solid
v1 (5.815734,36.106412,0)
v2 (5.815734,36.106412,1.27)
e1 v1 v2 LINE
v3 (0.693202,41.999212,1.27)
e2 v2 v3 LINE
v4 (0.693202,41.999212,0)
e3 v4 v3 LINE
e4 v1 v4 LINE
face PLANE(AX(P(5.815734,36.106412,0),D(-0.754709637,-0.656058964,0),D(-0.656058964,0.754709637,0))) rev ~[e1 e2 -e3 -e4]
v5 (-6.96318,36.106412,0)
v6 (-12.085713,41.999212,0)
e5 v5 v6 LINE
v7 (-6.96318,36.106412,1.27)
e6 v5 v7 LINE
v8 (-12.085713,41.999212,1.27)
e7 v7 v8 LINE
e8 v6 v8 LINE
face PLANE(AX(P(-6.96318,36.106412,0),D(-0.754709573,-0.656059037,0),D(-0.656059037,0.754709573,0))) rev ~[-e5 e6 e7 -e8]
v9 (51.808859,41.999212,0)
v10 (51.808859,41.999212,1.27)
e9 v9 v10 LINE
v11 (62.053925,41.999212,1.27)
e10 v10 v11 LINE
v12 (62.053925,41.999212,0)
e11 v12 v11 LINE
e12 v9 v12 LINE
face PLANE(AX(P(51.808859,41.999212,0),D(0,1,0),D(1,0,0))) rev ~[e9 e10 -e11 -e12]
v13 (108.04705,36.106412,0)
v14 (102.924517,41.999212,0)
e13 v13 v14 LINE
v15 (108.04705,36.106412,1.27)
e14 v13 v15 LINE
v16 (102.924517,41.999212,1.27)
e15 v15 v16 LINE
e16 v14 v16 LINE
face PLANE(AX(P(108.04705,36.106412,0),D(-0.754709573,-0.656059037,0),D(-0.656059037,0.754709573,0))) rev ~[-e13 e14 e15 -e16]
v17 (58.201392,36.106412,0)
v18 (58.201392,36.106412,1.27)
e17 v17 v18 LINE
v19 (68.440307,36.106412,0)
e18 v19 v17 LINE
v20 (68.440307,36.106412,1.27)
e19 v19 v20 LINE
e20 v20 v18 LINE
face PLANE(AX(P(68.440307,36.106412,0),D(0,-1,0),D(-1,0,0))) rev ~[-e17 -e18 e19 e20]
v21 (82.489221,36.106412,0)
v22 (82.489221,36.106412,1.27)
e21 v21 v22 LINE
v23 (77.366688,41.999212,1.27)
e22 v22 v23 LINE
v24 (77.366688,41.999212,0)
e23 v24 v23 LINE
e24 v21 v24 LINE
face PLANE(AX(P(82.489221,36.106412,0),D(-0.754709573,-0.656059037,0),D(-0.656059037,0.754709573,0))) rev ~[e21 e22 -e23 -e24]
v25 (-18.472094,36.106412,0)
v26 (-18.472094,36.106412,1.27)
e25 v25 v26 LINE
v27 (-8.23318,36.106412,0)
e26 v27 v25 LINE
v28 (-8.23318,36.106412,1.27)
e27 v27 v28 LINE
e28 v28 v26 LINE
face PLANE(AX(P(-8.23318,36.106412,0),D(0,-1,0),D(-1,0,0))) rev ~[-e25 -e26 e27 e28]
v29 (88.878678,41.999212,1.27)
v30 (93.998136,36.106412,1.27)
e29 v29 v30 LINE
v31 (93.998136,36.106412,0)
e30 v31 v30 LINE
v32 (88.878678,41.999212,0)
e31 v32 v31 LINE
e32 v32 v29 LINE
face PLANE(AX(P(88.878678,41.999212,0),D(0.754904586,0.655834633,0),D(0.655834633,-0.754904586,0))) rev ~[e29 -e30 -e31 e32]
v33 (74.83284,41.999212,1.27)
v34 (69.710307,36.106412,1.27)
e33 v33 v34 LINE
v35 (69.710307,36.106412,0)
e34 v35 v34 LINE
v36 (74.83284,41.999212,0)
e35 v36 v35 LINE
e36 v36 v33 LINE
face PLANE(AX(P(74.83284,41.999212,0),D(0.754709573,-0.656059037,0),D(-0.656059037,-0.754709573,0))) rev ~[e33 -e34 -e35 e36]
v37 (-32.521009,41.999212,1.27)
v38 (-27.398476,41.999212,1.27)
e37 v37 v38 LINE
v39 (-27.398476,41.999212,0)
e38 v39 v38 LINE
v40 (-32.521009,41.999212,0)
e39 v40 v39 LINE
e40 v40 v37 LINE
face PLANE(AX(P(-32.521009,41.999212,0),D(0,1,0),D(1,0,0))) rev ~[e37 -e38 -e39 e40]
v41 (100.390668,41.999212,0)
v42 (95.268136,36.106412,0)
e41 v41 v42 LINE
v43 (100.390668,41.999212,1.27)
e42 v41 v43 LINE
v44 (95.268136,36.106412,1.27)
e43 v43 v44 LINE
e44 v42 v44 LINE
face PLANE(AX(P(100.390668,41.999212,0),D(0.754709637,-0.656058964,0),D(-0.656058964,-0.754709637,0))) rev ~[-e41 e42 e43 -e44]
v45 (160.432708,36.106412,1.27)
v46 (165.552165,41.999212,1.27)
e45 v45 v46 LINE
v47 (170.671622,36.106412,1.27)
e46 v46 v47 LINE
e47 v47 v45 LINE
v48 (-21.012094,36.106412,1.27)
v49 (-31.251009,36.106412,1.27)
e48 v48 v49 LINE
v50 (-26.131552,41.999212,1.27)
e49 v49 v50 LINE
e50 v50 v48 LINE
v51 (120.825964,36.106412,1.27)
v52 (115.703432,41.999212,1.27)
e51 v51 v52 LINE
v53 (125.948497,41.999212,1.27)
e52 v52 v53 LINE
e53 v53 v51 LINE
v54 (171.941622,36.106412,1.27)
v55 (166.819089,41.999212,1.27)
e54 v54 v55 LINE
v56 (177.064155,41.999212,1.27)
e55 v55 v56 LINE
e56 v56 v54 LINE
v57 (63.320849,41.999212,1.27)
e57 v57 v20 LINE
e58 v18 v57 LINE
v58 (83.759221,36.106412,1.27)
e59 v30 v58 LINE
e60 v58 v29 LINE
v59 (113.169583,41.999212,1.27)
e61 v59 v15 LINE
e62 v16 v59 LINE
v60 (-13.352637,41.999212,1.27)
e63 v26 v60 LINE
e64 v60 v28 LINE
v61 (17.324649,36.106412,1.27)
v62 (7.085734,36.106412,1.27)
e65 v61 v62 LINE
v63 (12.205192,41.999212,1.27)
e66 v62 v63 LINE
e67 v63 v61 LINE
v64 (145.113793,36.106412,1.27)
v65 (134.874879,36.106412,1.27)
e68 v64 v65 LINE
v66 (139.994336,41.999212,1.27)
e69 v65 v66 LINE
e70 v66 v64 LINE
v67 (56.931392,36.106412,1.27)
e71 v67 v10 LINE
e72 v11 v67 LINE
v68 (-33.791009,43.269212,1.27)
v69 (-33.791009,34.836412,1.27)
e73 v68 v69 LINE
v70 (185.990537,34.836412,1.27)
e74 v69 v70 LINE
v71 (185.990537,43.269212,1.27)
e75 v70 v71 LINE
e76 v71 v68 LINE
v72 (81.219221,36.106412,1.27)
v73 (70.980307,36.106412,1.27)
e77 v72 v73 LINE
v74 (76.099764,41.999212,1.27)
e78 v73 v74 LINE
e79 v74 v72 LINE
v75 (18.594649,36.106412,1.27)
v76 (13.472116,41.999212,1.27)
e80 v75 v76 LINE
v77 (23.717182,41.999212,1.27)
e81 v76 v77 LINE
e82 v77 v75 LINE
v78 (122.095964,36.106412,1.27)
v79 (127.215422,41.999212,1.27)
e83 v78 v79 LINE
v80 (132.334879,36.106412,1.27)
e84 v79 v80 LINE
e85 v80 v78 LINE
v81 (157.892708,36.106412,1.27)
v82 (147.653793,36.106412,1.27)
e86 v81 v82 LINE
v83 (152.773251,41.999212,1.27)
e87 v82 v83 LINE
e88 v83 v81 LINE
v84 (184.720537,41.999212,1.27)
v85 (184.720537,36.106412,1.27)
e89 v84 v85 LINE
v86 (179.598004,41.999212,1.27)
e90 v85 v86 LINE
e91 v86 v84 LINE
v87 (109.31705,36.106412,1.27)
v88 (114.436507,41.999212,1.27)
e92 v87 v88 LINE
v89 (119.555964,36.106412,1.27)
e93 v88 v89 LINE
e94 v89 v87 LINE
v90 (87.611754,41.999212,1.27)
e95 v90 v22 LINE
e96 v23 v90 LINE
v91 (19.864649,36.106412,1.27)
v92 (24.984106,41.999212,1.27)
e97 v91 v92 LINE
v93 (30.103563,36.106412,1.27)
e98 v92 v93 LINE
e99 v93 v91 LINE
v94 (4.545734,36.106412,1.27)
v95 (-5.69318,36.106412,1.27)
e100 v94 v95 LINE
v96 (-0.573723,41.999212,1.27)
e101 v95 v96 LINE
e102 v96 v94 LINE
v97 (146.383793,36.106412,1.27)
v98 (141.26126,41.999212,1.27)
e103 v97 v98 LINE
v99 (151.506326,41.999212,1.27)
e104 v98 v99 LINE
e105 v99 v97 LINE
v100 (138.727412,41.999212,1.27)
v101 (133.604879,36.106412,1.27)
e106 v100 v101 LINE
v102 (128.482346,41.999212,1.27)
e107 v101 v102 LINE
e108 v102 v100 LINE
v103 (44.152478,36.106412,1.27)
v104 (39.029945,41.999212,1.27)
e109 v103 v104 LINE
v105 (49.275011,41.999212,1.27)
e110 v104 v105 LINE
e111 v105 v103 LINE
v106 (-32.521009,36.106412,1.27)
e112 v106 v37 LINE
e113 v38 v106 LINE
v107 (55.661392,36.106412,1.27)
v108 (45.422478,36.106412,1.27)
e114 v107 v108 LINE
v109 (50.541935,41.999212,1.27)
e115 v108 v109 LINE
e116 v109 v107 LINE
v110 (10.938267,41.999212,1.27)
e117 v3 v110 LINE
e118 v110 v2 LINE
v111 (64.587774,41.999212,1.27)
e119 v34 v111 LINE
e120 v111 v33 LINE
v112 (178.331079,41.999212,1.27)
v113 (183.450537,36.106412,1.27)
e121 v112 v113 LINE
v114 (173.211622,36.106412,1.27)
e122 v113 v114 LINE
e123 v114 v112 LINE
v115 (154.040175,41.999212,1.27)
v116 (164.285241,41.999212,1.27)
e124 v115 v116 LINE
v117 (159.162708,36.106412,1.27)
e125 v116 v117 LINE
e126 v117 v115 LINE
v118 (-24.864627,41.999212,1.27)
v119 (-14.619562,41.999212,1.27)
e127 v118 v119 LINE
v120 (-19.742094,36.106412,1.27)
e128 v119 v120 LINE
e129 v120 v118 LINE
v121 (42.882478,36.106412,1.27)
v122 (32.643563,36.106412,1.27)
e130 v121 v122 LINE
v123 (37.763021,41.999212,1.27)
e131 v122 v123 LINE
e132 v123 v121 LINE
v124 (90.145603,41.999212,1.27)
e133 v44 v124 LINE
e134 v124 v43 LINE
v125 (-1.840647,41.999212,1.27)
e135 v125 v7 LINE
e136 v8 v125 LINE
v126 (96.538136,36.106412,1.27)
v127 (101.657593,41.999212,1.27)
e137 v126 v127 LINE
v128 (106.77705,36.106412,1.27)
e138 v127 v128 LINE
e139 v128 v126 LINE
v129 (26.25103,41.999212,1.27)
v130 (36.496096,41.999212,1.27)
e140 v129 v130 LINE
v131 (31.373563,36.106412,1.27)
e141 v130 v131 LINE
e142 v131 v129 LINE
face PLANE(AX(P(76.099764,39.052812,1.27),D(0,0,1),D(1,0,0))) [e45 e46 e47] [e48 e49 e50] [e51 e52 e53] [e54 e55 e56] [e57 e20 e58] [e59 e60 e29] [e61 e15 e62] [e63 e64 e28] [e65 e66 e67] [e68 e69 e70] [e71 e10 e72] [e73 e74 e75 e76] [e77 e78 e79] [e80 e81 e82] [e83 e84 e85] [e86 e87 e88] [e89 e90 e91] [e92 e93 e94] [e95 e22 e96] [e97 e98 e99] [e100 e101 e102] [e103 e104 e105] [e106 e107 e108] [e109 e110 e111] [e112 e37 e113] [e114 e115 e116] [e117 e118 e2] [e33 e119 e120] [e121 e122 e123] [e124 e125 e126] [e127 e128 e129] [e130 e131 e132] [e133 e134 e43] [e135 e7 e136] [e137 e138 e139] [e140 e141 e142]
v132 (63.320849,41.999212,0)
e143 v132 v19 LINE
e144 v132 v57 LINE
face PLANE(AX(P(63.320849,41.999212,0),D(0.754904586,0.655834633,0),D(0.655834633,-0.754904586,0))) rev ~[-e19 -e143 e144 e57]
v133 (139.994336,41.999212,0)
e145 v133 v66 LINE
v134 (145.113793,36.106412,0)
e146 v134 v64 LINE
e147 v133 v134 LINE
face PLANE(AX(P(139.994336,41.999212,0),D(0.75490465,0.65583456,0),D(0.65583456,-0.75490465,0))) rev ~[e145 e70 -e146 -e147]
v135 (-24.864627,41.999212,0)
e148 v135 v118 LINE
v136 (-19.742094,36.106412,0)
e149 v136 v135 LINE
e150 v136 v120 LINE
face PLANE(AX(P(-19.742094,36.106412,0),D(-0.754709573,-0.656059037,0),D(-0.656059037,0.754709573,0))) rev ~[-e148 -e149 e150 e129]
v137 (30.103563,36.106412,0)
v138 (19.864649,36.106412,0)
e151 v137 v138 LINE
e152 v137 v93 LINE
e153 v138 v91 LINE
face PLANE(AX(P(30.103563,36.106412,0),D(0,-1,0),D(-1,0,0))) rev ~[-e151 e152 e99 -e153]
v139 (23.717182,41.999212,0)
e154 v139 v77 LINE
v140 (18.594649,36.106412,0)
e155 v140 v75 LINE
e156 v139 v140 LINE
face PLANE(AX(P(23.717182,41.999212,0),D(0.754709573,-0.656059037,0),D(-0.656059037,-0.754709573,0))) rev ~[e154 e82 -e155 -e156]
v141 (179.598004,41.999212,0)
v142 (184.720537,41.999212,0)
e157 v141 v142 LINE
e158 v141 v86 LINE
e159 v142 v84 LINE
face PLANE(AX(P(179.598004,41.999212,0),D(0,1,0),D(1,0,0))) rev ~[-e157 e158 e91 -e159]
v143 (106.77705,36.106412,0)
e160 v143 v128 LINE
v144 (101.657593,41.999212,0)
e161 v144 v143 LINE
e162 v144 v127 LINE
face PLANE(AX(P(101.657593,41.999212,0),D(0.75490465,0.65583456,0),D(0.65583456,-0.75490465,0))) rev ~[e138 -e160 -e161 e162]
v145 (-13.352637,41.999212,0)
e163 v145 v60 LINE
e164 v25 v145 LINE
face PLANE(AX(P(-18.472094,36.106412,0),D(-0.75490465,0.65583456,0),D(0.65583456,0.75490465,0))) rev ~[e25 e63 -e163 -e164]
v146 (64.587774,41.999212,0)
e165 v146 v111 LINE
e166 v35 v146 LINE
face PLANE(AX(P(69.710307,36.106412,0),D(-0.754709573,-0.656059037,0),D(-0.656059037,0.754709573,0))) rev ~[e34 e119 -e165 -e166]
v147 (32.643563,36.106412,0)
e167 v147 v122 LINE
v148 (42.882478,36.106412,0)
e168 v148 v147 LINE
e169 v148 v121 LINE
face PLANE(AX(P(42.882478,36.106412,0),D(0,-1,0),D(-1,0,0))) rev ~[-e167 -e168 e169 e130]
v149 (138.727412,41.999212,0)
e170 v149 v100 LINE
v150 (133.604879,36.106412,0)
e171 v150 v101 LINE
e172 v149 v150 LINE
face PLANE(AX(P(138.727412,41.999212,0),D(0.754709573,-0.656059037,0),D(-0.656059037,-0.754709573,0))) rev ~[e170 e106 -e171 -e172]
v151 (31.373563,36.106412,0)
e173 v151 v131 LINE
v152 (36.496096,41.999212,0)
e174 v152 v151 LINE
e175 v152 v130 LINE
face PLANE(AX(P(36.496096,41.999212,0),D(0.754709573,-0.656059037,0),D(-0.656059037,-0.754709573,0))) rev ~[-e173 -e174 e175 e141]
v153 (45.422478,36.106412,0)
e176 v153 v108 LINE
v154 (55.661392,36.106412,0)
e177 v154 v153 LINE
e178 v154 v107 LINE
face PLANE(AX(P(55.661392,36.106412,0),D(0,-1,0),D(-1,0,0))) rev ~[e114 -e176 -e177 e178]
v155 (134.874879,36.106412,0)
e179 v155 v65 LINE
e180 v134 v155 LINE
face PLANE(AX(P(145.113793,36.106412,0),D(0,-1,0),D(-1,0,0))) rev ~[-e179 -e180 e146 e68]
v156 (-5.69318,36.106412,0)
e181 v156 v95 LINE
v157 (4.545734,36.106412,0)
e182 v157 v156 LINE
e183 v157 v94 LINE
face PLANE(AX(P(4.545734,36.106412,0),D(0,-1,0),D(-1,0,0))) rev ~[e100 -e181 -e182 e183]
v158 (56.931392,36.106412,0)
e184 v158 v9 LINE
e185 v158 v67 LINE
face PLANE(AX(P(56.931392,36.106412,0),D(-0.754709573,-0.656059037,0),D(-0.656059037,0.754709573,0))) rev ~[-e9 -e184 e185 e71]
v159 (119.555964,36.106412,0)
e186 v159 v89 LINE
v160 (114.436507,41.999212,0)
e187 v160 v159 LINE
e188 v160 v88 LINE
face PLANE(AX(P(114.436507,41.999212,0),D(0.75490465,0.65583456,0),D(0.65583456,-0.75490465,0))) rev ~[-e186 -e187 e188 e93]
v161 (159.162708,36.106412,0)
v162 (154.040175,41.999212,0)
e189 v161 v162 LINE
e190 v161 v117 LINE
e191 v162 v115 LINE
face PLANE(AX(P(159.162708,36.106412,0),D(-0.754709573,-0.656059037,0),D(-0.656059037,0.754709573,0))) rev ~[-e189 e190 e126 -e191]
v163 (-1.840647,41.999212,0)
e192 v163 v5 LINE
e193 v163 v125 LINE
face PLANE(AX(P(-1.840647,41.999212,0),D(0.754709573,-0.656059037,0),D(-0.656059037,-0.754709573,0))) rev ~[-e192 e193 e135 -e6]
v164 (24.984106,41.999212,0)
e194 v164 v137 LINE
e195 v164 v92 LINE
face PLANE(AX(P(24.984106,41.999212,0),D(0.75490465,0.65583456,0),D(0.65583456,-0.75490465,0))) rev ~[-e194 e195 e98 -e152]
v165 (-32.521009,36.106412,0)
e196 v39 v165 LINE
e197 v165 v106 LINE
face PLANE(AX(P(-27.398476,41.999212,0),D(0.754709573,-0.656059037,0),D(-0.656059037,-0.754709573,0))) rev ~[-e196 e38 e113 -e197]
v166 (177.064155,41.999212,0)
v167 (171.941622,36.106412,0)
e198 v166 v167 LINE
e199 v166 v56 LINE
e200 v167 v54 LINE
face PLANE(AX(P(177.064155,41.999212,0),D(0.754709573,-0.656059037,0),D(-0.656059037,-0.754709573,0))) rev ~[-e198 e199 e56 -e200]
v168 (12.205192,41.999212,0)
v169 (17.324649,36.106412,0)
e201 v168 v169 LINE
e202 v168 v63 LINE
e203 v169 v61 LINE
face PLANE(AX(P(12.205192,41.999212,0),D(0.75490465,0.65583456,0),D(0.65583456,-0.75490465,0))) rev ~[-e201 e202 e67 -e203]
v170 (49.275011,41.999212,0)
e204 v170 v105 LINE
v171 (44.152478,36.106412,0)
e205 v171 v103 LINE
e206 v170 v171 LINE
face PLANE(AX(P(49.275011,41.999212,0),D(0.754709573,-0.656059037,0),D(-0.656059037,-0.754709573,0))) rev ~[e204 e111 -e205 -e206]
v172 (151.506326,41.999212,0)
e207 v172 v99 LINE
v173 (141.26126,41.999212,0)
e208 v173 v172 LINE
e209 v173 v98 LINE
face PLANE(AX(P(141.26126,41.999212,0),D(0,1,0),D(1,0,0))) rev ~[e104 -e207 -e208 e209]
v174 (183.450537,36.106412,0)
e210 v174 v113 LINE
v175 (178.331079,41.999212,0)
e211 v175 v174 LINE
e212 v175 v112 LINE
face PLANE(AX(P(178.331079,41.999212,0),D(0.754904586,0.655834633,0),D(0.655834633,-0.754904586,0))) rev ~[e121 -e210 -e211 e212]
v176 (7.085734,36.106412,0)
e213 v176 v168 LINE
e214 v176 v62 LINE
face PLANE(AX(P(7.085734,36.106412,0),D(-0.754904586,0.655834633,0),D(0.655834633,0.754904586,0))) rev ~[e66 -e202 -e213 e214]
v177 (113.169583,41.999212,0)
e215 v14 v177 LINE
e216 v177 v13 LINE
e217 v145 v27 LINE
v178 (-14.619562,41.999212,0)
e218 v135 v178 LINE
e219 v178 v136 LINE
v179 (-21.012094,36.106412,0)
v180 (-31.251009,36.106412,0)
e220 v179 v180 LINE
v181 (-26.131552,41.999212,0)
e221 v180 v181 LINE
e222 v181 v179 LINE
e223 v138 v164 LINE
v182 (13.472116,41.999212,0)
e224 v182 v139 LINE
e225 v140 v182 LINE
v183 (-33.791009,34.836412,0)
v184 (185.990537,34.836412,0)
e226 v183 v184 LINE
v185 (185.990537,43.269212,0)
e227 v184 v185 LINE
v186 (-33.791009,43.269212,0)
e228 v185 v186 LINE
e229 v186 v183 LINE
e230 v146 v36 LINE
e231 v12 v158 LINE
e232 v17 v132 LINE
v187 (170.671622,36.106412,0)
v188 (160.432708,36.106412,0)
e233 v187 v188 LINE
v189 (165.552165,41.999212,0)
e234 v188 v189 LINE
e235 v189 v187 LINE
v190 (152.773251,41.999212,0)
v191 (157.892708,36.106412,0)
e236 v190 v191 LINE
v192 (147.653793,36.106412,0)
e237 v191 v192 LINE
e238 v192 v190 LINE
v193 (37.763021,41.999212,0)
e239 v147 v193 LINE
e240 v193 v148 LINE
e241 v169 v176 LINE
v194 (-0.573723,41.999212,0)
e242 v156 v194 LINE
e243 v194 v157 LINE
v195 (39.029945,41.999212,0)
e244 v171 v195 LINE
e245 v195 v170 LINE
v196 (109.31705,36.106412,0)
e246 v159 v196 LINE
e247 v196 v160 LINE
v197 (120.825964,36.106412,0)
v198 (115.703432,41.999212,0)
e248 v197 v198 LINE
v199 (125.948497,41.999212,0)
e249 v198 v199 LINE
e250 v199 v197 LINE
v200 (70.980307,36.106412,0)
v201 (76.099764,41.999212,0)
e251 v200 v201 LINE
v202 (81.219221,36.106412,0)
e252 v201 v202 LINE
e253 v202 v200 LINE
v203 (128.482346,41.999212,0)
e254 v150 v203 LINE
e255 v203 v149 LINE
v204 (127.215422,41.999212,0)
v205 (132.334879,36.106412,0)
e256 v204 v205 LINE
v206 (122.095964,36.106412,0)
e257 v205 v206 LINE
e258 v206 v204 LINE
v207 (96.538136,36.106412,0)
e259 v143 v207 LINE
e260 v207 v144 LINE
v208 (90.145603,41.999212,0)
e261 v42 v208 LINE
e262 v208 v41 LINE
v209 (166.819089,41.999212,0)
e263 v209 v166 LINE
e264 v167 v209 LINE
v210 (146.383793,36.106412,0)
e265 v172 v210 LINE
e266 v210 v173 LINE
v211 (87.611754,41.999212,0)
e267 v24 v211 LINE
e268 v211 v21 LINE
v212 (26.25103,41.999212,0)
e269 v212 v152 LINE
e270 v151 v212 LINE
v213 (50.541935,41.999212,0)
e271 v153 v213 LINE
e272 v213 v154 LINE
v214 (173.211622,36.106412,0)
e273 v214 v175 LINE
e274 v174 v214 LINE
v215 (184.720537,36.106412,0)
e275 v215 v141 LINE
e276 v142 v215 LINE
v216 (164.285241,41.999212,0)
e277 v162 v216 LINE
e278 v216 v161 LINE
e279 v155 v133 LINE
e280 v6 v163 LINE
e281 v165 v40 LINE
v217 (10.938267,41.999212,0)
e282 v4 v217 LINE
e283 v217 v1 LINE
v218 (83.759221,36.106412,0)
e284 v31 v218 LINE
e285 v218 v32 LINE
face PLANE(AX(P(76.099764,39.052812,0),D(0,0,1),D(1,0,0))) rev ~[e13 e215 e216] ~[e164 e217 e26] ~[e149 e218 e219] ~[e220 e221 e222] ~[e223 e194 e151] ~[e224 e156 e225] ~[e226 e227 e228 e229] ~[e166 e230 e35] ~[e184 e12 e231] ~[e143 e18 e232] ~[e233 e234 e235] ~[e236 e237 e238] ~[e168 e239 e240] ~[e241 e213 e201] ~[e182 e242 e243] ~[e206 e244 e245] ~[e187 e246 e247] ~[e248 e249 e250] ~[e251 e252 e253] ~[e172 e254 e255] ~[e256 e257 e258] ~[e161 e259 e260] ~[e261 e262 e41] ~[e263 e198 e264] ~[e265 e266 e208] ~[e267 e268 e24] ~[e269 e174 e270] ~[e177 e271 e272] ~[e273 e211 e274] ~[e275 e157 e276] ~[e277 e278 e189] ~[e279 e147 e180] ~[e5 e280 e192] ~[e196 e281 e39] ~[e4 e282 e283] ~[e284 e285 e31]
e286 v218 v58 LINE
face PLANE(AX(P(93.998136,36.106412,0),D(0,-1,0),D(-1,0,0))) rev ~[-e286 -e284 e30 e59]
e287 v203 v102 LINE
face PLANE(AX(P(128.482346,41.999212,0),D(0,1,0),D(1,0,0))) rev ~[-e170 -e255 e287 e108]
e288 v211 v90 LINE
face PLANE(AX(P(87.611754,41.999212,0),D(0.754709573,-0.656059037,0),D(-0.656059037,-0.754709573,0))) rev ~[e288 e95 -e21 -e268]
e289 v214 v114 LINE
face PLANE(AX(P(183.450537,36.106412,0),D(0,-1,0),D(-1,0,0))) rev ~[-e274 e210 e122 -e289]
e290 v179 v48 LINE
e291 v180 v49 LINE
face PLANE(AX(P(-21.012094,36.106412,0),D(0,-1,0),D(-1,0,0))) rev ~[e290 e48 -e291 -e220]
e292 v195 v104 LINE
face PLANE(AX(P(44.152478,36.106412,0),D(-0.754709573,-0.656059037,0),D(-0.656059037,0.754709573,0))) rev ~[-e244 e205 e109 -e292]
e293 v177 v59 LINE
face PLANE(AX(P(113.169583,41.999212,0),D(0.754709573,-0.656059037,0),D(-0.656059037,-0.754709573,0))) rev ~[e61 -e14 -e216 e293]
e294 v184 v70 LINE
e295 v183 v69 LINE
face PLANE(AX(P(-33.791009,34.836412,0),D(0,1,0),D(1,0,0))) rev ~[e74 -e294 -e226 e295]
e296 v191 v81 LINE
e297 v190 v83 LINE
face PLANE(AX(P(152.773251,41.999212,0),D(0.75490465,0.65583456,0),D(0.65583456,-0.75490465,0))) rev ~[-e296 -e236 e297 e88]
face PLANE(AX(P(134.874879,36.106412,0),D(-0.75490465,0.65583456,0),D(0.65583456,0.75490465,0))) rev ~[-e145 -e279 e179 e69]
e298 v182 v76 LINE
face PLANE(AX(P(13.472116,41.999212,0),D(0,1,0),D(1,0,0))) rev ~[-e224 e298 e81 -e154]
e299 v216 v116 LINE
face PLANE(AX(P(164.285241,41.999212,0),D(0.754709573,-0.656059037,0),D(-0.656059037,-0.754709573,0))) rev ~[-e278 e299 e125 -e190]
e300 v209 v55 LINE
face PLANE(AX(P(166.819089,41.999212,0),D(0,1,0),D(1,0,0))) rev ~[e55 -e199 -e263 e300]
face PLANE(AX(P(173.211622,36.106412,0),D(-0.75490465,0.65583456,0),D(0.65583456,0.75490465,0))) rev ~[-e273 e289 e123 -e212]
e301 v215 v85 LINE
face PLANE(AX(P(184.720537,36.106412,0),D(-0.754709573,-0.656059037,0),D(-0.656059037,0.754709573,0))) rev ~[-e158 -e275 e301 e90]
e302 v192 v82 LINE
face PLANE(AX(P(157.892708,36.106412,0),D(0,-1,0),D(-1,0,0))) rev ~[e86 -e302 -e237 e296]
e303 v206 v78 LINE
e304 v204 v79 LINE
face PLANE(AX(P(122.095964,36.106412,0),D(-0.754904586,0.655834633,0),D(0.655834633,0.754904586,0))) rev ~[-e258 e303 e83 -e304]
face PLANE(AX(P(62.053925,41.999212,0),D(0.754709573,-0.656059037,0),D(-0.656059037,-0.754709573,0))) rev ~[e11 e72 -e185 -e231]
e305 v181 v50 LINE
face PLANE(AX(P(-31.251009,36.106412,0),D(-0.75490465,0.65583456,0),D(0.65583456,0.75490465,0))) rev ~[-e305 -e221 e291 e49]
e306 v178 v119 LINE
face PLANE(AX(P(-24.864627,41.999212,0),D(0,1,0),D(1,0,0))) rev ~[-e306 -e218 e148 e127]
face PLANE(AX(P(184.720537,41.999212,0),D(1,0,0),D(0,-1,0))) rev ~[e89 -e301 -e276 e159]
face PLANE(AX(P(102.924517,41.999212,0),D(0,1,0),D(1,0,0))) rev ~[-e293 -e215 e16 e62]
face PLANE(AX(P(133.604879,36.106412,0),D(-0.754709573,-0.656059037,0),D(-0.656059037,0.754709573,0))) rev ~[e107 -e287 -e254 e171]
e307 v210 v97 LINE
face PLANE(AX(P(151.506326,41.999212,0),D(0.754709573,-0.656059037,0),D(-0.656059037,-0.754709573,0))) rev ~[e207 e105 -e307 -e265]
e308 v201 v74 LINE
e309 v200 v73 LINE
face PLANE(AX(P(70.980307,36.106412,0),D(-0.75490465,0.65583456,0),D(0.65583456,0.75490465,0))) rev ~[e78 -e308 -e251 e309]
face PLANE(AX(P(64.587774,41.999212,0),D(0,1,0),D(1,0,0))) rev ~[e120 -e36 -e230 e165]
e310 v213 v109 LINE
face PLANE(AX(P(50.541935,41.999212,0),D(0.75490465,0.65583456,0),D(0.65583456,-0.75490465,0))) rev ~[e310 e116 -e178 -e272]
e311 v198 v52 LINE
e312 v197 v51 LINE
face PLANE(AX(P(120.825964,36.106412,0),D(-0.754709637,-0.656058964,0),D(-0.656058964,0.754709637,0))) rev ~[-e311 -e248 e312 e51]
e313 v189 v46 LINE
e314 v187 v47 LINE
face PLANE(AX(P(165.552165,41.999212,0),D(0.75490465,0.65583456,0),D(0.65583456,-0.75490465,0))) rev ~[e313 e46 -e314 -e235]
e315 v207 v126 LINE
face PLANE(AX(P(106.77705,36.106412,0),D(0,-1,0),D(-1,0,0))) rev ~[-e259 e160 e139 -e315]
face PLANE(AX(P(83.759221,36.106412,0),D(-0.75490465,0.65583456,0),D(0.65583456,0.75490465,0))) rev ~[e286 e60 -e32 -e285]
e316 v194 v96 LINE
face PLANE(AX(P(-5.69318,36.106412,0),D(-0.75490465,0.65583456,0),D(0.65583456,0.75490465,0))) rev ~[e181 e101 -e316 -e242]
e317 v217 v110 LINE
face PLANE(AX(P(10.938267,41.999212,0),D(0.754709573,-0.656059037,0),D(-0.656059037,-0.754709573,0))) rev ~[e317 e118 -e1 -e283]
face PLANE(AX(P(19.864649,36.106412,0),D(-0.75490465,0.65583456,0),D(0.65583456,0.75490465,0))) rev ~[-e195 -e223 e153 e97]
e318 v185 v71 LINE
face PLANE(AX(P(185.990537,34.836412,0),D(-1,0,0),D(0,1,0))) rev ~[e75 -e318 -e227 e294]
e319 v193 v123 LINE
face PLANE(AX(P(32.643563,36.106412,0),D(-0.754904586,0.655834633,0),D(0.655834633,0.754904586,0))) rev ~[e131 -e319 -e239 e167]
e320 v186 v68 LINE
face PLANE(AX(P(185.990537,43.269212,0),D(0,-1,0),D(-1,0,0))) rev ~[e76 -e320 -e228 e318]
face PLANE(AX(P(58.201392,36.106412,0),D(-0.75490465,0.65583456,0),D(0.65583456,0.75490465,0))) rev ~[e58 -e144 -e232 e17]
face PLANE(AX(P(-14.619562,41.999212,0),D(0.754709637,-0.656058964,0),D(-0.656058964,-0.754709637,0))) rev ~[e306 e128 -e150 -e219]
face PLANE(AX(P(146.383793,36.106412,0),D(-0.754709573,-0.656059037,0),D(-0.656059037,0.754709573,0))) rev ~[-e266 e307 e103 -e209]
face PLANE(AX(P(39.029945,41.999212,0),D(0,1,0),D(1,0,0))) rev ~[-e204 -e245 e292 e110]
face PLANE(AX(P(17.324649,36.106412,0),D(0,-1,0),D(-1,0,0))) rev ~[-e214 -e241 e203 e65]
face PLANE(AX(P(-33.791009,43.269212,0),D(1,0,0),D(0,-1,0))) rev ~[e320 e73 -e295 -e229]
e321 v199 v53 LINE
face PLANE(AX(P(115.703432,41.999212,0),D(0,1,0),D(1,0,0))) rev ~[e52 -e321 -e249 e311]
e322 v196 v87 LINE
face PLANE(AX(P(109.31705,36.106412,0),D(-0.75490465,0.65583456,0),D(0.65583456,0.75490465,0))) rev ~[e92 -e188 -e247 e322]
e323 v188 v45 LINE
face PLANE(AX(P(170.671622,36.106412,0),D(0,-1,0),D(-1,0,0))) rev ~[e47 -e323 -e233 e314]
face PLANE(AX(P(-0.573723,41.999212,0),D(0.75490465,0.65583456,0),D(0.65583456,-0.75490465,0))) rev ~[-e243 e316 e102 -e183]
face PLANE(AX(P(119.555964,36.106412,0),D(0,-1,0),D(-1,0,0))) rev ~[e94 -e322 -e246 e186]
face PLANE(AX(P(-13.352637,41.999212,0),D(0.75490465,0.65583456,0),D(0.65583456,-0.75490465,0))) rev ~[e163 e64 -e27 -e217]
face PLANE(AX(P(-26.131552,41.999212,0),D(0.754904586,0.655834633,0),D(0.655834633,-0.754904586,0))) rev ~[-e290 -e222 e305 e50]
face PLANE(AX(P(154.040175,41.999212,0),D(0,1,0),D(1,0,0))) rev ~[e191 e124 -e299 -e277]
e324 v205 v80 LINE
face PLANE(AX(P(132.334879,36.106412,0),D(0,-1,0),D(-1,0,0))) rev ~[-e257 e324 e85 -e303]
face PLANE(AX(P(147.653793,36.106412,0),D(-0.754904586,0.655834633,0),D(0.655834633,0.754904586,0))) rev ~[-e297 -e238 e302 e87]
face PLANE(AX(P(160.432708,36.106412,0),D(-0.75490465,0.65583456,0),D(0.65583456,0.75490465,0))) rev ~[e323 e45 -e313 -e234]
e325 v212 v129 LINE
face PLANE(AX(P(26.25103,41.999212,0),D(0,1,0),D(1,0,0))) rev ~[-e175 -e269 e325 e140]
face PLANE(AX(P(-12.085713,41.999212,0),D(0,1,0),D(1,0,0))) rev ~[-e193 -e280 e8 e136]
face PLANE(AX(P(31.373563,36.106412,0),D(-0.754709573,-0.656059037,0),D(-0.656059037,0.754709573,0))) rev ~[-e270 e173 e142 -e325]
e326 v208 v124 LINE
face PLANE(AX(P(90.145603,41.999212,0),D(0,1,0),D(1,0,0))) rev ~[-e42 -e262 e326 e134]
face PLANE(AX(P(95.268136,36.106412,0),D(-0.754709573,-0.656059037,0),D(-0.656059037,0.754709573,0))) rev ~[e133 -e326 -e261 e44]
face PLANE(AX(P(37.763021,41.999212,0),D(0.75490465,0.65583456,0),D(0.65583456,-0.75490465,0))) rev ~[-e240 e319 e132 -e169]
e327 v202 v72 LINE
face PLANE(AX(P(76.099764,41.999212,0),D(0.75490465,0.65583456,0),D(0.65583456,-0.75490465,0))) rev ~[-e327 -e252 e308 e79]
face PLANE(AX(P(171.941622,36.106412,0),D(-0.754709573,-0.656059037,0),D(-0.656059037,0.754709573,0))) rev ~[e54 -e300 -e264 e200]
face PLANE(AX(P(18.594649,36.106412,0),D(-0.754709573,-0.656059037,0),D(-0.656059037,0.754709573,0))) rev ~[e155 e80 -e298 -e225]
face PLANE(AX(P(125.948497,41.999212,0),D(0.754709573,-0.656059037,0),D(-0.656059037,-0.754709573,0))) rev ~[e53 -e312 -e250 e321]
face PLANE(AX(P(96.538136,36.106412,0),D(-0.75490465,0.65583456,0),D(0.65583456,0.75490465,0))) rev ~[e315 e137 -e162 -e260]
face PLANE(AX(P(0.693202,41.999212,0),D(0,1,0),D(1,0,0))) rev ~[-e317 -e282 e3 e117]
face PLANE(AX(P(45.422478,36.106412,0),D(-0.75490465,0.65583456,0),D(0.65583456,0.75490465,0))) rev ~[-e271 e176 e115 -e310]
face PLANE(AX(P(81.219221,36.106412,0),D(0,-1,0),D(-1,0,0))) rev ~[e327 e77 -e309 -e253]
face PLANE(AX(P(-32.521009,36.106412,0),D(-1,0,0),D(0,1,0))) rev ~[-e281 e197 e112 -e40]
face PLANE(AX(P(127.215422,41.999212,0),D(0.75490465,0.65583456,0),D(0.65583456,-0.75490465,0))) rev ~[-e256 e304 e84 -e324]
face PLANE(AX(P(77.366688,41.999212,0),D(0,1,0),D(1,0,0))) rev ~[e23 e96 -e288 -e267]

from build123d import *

# Parameters (mm, degrees)
F1_DEPTH = 1.27


with BuildPart() as f1:
    # F0 (on Top) → F1 (new body)
    with BuildSketch(Plane.XY):
        Polygon((185.990537, 43.269212), (-33.791009, 43.269212), (-33.791009, 34.836412), (185.990537, 34.836412), (185.990537, 36.106412), align=None)
        Polygon((-32.521009, 36.106412), (-32.521009, 41.999212), (-27.398476, 41.999212), align=None, mode=Mode.SUBTRACT)
        Polygon((-21.012094, 36.106412), (-31.251009, 36.106412), (-26.131552, 41.999212), align=None, mode=Mode.SUBTRACT)
        Polygon((-14.619562, 41.999212), (-19.742094, 36.106412), (-24.864627, 41.999212), align=None, mode=Mode.SUBTRACT)
        Polygon((-8.23318, 36.106412), (-18.472094, 36.106412), (-13.352637, 41.999212), align=None, mode=Mode.SUBTRACT)
        Polygon((-1.840647, 41.999212), (-6.96318, 36.106412), (-12.085713, 41.999212), align=None, mode=Mode.SUBTRACT)
        Polygon((4.545734, 36.106412), (-5.69318, 36.106412), (-0.573723, 41.999212), align=None, mode=Mode.SUBTRACT)
        Polygon((10.938267, 41.999212), (5.815734, 36.106412), (0.693202, 41.999212), align=None, mode=Mode.SUBTRACT)
        Polygon((7.085734, 36.106412), (12.205192, 41.999212), (17.324649, 36.106412), align=None, mode=Mode.SUBTRACT)
        Polygon((23.717182, 41.999212), (18.594649, 36.106412), (13.472116, 41.999212), align=None, mode=Mode.SUBTRACT)
        Polygon((30.103563, 36.106412), (19.864649, 36.106412), (24.984106, 41.999212), align=None, mode=Mode.SUBTRACT)
        Polygon((36.496096, 41.999212), (31.373563, 36.106412), (26.25103, 41.999212), align=None, mode=Mode.SUBTRACT)
        Polygon((32.643563, 36.106412), (37.763021, 41.999212), (42.882478, 36.106412), align=None, mode=Mode.SUBTRACT)
        Polygon((49.275011, 41.999212), (44.152478, 36.106412), (39.029945, 41.999212), align=None, mode=Mode.SUBTRACT)
        Polygon((45.422478, 36.106412), (50.541935, 41.999212), (55.661392, 36.106412), align=None, mode=Mode.SUBTRACT)
        Polygon((62.053925, 41.999212), (56.931392, 36.106412), (51.808859, 41.999212), align=None, mode=Mode.SUBTRACT)
        Polygon((58.201392, 36.106412), (63.320849, 41.999212), (68.440307, 36.106412), align=None, mode=Mode.SUBTRACT)
        Polygon((74.83284, 41.999212), (69.710307, 36.106412), (64.587774, 41.999212), align=None, mode=Mode.SUBTRACT)
        Polygon((81.219221, 36.106412), (70.980307, 36.106412), (76.099764, 41.999212), align=None, mode=Mode.SUBTRACT)
        Polygon((87.611754, 41.999212), (82.489221, 36.106412), (77.366688, 41.999212), align=None, mode=Mode.SUBTRACT)
        Polygon((83.759221, 36.106412), (88.878678, 41.999212), (93.998136, 36.106412), align=None, mode=Mode.SUBTRACT)
        Polygon((100.390668, 41.999212), (95.268136, 36.106412), (90.145603, 41.999212), align=None, mode=Mode.SUBTRACT)
        Polygon((96.538136, 36.106412), (101.657593, 41.999212), (106.77705, 36.106412), align=None, mode=Mode.SUBTRACT)
        Polygon((113.169583, 41.999212), (108.04705, 36.106412), (102.924517, 41.999212), align=None, mode=Mode.SUBTRACT)
        Polygon((109.31705, 36.106412), (114.436507, 41.999212), (119.555964, 36.106412), align=None, mode=Mode.SUBTRACT)
        Polygon((125.948497, 41.999212), (120.825964, 36.106412), (115.703432, 41.999212), align=None, mode=Mode.SUBTRACT)
        Polygon((122.095964, 36.106412), (127.215422, 41.999212), (132.334879, 36.106412), align=None, mode=Mode.SUBTRACT)
        Polygon((138.727412, 41.999212), (133.604879, 36.106412), (128.482346, 41.999212), align=None, mode=Mode.SUBTRACT)
        Polygon((134.874879, 36.106412), (139.994336, 41.999212), (145.113793, 36.106412), align=None, mode=Mode.SUBTRACT)
        Polygon((151.506326, 41.999212), (146.383793, 36.106412), (141.26126, 41.999212), align=None, mode=Mode.SUBTRACT)
        Polygon((147.653793, 36.106412), (152.773251, 41.999212), (157.892708, 36.106412), align=None, mode=Mode.SUBTRACT)
        Polygon((164.285241, 41.999212), (159.162708, 36.106412), (154.040175, 41.999212), align=None, mode=Mode.SUBTRACT)
        Polygon((160.432708, 36.106412), (165.552165, 41.999212), (170.671622, 36.106412), align=None, mode=Mode.SUBTRACT)
        Polygon((177.064155, 41.999212), (171.941622, 36.106412), (166.819089, 41.999212), align=None, mode=Mode.SUBTRACT)
        Polygon((173.211622, 36.106412), (178.331079, 41.999212), (183.450537, 36.106412), align=None, mode=Mode.SUBTRACT)
        Polygon((184.720537, 41.999212), (184.720537, 36.106412), (179.598004, 41.999212), align=None, mode=Mode.SUBTRACT)
    extrude(amount=F1_DEPTH)


solid = f1.part
